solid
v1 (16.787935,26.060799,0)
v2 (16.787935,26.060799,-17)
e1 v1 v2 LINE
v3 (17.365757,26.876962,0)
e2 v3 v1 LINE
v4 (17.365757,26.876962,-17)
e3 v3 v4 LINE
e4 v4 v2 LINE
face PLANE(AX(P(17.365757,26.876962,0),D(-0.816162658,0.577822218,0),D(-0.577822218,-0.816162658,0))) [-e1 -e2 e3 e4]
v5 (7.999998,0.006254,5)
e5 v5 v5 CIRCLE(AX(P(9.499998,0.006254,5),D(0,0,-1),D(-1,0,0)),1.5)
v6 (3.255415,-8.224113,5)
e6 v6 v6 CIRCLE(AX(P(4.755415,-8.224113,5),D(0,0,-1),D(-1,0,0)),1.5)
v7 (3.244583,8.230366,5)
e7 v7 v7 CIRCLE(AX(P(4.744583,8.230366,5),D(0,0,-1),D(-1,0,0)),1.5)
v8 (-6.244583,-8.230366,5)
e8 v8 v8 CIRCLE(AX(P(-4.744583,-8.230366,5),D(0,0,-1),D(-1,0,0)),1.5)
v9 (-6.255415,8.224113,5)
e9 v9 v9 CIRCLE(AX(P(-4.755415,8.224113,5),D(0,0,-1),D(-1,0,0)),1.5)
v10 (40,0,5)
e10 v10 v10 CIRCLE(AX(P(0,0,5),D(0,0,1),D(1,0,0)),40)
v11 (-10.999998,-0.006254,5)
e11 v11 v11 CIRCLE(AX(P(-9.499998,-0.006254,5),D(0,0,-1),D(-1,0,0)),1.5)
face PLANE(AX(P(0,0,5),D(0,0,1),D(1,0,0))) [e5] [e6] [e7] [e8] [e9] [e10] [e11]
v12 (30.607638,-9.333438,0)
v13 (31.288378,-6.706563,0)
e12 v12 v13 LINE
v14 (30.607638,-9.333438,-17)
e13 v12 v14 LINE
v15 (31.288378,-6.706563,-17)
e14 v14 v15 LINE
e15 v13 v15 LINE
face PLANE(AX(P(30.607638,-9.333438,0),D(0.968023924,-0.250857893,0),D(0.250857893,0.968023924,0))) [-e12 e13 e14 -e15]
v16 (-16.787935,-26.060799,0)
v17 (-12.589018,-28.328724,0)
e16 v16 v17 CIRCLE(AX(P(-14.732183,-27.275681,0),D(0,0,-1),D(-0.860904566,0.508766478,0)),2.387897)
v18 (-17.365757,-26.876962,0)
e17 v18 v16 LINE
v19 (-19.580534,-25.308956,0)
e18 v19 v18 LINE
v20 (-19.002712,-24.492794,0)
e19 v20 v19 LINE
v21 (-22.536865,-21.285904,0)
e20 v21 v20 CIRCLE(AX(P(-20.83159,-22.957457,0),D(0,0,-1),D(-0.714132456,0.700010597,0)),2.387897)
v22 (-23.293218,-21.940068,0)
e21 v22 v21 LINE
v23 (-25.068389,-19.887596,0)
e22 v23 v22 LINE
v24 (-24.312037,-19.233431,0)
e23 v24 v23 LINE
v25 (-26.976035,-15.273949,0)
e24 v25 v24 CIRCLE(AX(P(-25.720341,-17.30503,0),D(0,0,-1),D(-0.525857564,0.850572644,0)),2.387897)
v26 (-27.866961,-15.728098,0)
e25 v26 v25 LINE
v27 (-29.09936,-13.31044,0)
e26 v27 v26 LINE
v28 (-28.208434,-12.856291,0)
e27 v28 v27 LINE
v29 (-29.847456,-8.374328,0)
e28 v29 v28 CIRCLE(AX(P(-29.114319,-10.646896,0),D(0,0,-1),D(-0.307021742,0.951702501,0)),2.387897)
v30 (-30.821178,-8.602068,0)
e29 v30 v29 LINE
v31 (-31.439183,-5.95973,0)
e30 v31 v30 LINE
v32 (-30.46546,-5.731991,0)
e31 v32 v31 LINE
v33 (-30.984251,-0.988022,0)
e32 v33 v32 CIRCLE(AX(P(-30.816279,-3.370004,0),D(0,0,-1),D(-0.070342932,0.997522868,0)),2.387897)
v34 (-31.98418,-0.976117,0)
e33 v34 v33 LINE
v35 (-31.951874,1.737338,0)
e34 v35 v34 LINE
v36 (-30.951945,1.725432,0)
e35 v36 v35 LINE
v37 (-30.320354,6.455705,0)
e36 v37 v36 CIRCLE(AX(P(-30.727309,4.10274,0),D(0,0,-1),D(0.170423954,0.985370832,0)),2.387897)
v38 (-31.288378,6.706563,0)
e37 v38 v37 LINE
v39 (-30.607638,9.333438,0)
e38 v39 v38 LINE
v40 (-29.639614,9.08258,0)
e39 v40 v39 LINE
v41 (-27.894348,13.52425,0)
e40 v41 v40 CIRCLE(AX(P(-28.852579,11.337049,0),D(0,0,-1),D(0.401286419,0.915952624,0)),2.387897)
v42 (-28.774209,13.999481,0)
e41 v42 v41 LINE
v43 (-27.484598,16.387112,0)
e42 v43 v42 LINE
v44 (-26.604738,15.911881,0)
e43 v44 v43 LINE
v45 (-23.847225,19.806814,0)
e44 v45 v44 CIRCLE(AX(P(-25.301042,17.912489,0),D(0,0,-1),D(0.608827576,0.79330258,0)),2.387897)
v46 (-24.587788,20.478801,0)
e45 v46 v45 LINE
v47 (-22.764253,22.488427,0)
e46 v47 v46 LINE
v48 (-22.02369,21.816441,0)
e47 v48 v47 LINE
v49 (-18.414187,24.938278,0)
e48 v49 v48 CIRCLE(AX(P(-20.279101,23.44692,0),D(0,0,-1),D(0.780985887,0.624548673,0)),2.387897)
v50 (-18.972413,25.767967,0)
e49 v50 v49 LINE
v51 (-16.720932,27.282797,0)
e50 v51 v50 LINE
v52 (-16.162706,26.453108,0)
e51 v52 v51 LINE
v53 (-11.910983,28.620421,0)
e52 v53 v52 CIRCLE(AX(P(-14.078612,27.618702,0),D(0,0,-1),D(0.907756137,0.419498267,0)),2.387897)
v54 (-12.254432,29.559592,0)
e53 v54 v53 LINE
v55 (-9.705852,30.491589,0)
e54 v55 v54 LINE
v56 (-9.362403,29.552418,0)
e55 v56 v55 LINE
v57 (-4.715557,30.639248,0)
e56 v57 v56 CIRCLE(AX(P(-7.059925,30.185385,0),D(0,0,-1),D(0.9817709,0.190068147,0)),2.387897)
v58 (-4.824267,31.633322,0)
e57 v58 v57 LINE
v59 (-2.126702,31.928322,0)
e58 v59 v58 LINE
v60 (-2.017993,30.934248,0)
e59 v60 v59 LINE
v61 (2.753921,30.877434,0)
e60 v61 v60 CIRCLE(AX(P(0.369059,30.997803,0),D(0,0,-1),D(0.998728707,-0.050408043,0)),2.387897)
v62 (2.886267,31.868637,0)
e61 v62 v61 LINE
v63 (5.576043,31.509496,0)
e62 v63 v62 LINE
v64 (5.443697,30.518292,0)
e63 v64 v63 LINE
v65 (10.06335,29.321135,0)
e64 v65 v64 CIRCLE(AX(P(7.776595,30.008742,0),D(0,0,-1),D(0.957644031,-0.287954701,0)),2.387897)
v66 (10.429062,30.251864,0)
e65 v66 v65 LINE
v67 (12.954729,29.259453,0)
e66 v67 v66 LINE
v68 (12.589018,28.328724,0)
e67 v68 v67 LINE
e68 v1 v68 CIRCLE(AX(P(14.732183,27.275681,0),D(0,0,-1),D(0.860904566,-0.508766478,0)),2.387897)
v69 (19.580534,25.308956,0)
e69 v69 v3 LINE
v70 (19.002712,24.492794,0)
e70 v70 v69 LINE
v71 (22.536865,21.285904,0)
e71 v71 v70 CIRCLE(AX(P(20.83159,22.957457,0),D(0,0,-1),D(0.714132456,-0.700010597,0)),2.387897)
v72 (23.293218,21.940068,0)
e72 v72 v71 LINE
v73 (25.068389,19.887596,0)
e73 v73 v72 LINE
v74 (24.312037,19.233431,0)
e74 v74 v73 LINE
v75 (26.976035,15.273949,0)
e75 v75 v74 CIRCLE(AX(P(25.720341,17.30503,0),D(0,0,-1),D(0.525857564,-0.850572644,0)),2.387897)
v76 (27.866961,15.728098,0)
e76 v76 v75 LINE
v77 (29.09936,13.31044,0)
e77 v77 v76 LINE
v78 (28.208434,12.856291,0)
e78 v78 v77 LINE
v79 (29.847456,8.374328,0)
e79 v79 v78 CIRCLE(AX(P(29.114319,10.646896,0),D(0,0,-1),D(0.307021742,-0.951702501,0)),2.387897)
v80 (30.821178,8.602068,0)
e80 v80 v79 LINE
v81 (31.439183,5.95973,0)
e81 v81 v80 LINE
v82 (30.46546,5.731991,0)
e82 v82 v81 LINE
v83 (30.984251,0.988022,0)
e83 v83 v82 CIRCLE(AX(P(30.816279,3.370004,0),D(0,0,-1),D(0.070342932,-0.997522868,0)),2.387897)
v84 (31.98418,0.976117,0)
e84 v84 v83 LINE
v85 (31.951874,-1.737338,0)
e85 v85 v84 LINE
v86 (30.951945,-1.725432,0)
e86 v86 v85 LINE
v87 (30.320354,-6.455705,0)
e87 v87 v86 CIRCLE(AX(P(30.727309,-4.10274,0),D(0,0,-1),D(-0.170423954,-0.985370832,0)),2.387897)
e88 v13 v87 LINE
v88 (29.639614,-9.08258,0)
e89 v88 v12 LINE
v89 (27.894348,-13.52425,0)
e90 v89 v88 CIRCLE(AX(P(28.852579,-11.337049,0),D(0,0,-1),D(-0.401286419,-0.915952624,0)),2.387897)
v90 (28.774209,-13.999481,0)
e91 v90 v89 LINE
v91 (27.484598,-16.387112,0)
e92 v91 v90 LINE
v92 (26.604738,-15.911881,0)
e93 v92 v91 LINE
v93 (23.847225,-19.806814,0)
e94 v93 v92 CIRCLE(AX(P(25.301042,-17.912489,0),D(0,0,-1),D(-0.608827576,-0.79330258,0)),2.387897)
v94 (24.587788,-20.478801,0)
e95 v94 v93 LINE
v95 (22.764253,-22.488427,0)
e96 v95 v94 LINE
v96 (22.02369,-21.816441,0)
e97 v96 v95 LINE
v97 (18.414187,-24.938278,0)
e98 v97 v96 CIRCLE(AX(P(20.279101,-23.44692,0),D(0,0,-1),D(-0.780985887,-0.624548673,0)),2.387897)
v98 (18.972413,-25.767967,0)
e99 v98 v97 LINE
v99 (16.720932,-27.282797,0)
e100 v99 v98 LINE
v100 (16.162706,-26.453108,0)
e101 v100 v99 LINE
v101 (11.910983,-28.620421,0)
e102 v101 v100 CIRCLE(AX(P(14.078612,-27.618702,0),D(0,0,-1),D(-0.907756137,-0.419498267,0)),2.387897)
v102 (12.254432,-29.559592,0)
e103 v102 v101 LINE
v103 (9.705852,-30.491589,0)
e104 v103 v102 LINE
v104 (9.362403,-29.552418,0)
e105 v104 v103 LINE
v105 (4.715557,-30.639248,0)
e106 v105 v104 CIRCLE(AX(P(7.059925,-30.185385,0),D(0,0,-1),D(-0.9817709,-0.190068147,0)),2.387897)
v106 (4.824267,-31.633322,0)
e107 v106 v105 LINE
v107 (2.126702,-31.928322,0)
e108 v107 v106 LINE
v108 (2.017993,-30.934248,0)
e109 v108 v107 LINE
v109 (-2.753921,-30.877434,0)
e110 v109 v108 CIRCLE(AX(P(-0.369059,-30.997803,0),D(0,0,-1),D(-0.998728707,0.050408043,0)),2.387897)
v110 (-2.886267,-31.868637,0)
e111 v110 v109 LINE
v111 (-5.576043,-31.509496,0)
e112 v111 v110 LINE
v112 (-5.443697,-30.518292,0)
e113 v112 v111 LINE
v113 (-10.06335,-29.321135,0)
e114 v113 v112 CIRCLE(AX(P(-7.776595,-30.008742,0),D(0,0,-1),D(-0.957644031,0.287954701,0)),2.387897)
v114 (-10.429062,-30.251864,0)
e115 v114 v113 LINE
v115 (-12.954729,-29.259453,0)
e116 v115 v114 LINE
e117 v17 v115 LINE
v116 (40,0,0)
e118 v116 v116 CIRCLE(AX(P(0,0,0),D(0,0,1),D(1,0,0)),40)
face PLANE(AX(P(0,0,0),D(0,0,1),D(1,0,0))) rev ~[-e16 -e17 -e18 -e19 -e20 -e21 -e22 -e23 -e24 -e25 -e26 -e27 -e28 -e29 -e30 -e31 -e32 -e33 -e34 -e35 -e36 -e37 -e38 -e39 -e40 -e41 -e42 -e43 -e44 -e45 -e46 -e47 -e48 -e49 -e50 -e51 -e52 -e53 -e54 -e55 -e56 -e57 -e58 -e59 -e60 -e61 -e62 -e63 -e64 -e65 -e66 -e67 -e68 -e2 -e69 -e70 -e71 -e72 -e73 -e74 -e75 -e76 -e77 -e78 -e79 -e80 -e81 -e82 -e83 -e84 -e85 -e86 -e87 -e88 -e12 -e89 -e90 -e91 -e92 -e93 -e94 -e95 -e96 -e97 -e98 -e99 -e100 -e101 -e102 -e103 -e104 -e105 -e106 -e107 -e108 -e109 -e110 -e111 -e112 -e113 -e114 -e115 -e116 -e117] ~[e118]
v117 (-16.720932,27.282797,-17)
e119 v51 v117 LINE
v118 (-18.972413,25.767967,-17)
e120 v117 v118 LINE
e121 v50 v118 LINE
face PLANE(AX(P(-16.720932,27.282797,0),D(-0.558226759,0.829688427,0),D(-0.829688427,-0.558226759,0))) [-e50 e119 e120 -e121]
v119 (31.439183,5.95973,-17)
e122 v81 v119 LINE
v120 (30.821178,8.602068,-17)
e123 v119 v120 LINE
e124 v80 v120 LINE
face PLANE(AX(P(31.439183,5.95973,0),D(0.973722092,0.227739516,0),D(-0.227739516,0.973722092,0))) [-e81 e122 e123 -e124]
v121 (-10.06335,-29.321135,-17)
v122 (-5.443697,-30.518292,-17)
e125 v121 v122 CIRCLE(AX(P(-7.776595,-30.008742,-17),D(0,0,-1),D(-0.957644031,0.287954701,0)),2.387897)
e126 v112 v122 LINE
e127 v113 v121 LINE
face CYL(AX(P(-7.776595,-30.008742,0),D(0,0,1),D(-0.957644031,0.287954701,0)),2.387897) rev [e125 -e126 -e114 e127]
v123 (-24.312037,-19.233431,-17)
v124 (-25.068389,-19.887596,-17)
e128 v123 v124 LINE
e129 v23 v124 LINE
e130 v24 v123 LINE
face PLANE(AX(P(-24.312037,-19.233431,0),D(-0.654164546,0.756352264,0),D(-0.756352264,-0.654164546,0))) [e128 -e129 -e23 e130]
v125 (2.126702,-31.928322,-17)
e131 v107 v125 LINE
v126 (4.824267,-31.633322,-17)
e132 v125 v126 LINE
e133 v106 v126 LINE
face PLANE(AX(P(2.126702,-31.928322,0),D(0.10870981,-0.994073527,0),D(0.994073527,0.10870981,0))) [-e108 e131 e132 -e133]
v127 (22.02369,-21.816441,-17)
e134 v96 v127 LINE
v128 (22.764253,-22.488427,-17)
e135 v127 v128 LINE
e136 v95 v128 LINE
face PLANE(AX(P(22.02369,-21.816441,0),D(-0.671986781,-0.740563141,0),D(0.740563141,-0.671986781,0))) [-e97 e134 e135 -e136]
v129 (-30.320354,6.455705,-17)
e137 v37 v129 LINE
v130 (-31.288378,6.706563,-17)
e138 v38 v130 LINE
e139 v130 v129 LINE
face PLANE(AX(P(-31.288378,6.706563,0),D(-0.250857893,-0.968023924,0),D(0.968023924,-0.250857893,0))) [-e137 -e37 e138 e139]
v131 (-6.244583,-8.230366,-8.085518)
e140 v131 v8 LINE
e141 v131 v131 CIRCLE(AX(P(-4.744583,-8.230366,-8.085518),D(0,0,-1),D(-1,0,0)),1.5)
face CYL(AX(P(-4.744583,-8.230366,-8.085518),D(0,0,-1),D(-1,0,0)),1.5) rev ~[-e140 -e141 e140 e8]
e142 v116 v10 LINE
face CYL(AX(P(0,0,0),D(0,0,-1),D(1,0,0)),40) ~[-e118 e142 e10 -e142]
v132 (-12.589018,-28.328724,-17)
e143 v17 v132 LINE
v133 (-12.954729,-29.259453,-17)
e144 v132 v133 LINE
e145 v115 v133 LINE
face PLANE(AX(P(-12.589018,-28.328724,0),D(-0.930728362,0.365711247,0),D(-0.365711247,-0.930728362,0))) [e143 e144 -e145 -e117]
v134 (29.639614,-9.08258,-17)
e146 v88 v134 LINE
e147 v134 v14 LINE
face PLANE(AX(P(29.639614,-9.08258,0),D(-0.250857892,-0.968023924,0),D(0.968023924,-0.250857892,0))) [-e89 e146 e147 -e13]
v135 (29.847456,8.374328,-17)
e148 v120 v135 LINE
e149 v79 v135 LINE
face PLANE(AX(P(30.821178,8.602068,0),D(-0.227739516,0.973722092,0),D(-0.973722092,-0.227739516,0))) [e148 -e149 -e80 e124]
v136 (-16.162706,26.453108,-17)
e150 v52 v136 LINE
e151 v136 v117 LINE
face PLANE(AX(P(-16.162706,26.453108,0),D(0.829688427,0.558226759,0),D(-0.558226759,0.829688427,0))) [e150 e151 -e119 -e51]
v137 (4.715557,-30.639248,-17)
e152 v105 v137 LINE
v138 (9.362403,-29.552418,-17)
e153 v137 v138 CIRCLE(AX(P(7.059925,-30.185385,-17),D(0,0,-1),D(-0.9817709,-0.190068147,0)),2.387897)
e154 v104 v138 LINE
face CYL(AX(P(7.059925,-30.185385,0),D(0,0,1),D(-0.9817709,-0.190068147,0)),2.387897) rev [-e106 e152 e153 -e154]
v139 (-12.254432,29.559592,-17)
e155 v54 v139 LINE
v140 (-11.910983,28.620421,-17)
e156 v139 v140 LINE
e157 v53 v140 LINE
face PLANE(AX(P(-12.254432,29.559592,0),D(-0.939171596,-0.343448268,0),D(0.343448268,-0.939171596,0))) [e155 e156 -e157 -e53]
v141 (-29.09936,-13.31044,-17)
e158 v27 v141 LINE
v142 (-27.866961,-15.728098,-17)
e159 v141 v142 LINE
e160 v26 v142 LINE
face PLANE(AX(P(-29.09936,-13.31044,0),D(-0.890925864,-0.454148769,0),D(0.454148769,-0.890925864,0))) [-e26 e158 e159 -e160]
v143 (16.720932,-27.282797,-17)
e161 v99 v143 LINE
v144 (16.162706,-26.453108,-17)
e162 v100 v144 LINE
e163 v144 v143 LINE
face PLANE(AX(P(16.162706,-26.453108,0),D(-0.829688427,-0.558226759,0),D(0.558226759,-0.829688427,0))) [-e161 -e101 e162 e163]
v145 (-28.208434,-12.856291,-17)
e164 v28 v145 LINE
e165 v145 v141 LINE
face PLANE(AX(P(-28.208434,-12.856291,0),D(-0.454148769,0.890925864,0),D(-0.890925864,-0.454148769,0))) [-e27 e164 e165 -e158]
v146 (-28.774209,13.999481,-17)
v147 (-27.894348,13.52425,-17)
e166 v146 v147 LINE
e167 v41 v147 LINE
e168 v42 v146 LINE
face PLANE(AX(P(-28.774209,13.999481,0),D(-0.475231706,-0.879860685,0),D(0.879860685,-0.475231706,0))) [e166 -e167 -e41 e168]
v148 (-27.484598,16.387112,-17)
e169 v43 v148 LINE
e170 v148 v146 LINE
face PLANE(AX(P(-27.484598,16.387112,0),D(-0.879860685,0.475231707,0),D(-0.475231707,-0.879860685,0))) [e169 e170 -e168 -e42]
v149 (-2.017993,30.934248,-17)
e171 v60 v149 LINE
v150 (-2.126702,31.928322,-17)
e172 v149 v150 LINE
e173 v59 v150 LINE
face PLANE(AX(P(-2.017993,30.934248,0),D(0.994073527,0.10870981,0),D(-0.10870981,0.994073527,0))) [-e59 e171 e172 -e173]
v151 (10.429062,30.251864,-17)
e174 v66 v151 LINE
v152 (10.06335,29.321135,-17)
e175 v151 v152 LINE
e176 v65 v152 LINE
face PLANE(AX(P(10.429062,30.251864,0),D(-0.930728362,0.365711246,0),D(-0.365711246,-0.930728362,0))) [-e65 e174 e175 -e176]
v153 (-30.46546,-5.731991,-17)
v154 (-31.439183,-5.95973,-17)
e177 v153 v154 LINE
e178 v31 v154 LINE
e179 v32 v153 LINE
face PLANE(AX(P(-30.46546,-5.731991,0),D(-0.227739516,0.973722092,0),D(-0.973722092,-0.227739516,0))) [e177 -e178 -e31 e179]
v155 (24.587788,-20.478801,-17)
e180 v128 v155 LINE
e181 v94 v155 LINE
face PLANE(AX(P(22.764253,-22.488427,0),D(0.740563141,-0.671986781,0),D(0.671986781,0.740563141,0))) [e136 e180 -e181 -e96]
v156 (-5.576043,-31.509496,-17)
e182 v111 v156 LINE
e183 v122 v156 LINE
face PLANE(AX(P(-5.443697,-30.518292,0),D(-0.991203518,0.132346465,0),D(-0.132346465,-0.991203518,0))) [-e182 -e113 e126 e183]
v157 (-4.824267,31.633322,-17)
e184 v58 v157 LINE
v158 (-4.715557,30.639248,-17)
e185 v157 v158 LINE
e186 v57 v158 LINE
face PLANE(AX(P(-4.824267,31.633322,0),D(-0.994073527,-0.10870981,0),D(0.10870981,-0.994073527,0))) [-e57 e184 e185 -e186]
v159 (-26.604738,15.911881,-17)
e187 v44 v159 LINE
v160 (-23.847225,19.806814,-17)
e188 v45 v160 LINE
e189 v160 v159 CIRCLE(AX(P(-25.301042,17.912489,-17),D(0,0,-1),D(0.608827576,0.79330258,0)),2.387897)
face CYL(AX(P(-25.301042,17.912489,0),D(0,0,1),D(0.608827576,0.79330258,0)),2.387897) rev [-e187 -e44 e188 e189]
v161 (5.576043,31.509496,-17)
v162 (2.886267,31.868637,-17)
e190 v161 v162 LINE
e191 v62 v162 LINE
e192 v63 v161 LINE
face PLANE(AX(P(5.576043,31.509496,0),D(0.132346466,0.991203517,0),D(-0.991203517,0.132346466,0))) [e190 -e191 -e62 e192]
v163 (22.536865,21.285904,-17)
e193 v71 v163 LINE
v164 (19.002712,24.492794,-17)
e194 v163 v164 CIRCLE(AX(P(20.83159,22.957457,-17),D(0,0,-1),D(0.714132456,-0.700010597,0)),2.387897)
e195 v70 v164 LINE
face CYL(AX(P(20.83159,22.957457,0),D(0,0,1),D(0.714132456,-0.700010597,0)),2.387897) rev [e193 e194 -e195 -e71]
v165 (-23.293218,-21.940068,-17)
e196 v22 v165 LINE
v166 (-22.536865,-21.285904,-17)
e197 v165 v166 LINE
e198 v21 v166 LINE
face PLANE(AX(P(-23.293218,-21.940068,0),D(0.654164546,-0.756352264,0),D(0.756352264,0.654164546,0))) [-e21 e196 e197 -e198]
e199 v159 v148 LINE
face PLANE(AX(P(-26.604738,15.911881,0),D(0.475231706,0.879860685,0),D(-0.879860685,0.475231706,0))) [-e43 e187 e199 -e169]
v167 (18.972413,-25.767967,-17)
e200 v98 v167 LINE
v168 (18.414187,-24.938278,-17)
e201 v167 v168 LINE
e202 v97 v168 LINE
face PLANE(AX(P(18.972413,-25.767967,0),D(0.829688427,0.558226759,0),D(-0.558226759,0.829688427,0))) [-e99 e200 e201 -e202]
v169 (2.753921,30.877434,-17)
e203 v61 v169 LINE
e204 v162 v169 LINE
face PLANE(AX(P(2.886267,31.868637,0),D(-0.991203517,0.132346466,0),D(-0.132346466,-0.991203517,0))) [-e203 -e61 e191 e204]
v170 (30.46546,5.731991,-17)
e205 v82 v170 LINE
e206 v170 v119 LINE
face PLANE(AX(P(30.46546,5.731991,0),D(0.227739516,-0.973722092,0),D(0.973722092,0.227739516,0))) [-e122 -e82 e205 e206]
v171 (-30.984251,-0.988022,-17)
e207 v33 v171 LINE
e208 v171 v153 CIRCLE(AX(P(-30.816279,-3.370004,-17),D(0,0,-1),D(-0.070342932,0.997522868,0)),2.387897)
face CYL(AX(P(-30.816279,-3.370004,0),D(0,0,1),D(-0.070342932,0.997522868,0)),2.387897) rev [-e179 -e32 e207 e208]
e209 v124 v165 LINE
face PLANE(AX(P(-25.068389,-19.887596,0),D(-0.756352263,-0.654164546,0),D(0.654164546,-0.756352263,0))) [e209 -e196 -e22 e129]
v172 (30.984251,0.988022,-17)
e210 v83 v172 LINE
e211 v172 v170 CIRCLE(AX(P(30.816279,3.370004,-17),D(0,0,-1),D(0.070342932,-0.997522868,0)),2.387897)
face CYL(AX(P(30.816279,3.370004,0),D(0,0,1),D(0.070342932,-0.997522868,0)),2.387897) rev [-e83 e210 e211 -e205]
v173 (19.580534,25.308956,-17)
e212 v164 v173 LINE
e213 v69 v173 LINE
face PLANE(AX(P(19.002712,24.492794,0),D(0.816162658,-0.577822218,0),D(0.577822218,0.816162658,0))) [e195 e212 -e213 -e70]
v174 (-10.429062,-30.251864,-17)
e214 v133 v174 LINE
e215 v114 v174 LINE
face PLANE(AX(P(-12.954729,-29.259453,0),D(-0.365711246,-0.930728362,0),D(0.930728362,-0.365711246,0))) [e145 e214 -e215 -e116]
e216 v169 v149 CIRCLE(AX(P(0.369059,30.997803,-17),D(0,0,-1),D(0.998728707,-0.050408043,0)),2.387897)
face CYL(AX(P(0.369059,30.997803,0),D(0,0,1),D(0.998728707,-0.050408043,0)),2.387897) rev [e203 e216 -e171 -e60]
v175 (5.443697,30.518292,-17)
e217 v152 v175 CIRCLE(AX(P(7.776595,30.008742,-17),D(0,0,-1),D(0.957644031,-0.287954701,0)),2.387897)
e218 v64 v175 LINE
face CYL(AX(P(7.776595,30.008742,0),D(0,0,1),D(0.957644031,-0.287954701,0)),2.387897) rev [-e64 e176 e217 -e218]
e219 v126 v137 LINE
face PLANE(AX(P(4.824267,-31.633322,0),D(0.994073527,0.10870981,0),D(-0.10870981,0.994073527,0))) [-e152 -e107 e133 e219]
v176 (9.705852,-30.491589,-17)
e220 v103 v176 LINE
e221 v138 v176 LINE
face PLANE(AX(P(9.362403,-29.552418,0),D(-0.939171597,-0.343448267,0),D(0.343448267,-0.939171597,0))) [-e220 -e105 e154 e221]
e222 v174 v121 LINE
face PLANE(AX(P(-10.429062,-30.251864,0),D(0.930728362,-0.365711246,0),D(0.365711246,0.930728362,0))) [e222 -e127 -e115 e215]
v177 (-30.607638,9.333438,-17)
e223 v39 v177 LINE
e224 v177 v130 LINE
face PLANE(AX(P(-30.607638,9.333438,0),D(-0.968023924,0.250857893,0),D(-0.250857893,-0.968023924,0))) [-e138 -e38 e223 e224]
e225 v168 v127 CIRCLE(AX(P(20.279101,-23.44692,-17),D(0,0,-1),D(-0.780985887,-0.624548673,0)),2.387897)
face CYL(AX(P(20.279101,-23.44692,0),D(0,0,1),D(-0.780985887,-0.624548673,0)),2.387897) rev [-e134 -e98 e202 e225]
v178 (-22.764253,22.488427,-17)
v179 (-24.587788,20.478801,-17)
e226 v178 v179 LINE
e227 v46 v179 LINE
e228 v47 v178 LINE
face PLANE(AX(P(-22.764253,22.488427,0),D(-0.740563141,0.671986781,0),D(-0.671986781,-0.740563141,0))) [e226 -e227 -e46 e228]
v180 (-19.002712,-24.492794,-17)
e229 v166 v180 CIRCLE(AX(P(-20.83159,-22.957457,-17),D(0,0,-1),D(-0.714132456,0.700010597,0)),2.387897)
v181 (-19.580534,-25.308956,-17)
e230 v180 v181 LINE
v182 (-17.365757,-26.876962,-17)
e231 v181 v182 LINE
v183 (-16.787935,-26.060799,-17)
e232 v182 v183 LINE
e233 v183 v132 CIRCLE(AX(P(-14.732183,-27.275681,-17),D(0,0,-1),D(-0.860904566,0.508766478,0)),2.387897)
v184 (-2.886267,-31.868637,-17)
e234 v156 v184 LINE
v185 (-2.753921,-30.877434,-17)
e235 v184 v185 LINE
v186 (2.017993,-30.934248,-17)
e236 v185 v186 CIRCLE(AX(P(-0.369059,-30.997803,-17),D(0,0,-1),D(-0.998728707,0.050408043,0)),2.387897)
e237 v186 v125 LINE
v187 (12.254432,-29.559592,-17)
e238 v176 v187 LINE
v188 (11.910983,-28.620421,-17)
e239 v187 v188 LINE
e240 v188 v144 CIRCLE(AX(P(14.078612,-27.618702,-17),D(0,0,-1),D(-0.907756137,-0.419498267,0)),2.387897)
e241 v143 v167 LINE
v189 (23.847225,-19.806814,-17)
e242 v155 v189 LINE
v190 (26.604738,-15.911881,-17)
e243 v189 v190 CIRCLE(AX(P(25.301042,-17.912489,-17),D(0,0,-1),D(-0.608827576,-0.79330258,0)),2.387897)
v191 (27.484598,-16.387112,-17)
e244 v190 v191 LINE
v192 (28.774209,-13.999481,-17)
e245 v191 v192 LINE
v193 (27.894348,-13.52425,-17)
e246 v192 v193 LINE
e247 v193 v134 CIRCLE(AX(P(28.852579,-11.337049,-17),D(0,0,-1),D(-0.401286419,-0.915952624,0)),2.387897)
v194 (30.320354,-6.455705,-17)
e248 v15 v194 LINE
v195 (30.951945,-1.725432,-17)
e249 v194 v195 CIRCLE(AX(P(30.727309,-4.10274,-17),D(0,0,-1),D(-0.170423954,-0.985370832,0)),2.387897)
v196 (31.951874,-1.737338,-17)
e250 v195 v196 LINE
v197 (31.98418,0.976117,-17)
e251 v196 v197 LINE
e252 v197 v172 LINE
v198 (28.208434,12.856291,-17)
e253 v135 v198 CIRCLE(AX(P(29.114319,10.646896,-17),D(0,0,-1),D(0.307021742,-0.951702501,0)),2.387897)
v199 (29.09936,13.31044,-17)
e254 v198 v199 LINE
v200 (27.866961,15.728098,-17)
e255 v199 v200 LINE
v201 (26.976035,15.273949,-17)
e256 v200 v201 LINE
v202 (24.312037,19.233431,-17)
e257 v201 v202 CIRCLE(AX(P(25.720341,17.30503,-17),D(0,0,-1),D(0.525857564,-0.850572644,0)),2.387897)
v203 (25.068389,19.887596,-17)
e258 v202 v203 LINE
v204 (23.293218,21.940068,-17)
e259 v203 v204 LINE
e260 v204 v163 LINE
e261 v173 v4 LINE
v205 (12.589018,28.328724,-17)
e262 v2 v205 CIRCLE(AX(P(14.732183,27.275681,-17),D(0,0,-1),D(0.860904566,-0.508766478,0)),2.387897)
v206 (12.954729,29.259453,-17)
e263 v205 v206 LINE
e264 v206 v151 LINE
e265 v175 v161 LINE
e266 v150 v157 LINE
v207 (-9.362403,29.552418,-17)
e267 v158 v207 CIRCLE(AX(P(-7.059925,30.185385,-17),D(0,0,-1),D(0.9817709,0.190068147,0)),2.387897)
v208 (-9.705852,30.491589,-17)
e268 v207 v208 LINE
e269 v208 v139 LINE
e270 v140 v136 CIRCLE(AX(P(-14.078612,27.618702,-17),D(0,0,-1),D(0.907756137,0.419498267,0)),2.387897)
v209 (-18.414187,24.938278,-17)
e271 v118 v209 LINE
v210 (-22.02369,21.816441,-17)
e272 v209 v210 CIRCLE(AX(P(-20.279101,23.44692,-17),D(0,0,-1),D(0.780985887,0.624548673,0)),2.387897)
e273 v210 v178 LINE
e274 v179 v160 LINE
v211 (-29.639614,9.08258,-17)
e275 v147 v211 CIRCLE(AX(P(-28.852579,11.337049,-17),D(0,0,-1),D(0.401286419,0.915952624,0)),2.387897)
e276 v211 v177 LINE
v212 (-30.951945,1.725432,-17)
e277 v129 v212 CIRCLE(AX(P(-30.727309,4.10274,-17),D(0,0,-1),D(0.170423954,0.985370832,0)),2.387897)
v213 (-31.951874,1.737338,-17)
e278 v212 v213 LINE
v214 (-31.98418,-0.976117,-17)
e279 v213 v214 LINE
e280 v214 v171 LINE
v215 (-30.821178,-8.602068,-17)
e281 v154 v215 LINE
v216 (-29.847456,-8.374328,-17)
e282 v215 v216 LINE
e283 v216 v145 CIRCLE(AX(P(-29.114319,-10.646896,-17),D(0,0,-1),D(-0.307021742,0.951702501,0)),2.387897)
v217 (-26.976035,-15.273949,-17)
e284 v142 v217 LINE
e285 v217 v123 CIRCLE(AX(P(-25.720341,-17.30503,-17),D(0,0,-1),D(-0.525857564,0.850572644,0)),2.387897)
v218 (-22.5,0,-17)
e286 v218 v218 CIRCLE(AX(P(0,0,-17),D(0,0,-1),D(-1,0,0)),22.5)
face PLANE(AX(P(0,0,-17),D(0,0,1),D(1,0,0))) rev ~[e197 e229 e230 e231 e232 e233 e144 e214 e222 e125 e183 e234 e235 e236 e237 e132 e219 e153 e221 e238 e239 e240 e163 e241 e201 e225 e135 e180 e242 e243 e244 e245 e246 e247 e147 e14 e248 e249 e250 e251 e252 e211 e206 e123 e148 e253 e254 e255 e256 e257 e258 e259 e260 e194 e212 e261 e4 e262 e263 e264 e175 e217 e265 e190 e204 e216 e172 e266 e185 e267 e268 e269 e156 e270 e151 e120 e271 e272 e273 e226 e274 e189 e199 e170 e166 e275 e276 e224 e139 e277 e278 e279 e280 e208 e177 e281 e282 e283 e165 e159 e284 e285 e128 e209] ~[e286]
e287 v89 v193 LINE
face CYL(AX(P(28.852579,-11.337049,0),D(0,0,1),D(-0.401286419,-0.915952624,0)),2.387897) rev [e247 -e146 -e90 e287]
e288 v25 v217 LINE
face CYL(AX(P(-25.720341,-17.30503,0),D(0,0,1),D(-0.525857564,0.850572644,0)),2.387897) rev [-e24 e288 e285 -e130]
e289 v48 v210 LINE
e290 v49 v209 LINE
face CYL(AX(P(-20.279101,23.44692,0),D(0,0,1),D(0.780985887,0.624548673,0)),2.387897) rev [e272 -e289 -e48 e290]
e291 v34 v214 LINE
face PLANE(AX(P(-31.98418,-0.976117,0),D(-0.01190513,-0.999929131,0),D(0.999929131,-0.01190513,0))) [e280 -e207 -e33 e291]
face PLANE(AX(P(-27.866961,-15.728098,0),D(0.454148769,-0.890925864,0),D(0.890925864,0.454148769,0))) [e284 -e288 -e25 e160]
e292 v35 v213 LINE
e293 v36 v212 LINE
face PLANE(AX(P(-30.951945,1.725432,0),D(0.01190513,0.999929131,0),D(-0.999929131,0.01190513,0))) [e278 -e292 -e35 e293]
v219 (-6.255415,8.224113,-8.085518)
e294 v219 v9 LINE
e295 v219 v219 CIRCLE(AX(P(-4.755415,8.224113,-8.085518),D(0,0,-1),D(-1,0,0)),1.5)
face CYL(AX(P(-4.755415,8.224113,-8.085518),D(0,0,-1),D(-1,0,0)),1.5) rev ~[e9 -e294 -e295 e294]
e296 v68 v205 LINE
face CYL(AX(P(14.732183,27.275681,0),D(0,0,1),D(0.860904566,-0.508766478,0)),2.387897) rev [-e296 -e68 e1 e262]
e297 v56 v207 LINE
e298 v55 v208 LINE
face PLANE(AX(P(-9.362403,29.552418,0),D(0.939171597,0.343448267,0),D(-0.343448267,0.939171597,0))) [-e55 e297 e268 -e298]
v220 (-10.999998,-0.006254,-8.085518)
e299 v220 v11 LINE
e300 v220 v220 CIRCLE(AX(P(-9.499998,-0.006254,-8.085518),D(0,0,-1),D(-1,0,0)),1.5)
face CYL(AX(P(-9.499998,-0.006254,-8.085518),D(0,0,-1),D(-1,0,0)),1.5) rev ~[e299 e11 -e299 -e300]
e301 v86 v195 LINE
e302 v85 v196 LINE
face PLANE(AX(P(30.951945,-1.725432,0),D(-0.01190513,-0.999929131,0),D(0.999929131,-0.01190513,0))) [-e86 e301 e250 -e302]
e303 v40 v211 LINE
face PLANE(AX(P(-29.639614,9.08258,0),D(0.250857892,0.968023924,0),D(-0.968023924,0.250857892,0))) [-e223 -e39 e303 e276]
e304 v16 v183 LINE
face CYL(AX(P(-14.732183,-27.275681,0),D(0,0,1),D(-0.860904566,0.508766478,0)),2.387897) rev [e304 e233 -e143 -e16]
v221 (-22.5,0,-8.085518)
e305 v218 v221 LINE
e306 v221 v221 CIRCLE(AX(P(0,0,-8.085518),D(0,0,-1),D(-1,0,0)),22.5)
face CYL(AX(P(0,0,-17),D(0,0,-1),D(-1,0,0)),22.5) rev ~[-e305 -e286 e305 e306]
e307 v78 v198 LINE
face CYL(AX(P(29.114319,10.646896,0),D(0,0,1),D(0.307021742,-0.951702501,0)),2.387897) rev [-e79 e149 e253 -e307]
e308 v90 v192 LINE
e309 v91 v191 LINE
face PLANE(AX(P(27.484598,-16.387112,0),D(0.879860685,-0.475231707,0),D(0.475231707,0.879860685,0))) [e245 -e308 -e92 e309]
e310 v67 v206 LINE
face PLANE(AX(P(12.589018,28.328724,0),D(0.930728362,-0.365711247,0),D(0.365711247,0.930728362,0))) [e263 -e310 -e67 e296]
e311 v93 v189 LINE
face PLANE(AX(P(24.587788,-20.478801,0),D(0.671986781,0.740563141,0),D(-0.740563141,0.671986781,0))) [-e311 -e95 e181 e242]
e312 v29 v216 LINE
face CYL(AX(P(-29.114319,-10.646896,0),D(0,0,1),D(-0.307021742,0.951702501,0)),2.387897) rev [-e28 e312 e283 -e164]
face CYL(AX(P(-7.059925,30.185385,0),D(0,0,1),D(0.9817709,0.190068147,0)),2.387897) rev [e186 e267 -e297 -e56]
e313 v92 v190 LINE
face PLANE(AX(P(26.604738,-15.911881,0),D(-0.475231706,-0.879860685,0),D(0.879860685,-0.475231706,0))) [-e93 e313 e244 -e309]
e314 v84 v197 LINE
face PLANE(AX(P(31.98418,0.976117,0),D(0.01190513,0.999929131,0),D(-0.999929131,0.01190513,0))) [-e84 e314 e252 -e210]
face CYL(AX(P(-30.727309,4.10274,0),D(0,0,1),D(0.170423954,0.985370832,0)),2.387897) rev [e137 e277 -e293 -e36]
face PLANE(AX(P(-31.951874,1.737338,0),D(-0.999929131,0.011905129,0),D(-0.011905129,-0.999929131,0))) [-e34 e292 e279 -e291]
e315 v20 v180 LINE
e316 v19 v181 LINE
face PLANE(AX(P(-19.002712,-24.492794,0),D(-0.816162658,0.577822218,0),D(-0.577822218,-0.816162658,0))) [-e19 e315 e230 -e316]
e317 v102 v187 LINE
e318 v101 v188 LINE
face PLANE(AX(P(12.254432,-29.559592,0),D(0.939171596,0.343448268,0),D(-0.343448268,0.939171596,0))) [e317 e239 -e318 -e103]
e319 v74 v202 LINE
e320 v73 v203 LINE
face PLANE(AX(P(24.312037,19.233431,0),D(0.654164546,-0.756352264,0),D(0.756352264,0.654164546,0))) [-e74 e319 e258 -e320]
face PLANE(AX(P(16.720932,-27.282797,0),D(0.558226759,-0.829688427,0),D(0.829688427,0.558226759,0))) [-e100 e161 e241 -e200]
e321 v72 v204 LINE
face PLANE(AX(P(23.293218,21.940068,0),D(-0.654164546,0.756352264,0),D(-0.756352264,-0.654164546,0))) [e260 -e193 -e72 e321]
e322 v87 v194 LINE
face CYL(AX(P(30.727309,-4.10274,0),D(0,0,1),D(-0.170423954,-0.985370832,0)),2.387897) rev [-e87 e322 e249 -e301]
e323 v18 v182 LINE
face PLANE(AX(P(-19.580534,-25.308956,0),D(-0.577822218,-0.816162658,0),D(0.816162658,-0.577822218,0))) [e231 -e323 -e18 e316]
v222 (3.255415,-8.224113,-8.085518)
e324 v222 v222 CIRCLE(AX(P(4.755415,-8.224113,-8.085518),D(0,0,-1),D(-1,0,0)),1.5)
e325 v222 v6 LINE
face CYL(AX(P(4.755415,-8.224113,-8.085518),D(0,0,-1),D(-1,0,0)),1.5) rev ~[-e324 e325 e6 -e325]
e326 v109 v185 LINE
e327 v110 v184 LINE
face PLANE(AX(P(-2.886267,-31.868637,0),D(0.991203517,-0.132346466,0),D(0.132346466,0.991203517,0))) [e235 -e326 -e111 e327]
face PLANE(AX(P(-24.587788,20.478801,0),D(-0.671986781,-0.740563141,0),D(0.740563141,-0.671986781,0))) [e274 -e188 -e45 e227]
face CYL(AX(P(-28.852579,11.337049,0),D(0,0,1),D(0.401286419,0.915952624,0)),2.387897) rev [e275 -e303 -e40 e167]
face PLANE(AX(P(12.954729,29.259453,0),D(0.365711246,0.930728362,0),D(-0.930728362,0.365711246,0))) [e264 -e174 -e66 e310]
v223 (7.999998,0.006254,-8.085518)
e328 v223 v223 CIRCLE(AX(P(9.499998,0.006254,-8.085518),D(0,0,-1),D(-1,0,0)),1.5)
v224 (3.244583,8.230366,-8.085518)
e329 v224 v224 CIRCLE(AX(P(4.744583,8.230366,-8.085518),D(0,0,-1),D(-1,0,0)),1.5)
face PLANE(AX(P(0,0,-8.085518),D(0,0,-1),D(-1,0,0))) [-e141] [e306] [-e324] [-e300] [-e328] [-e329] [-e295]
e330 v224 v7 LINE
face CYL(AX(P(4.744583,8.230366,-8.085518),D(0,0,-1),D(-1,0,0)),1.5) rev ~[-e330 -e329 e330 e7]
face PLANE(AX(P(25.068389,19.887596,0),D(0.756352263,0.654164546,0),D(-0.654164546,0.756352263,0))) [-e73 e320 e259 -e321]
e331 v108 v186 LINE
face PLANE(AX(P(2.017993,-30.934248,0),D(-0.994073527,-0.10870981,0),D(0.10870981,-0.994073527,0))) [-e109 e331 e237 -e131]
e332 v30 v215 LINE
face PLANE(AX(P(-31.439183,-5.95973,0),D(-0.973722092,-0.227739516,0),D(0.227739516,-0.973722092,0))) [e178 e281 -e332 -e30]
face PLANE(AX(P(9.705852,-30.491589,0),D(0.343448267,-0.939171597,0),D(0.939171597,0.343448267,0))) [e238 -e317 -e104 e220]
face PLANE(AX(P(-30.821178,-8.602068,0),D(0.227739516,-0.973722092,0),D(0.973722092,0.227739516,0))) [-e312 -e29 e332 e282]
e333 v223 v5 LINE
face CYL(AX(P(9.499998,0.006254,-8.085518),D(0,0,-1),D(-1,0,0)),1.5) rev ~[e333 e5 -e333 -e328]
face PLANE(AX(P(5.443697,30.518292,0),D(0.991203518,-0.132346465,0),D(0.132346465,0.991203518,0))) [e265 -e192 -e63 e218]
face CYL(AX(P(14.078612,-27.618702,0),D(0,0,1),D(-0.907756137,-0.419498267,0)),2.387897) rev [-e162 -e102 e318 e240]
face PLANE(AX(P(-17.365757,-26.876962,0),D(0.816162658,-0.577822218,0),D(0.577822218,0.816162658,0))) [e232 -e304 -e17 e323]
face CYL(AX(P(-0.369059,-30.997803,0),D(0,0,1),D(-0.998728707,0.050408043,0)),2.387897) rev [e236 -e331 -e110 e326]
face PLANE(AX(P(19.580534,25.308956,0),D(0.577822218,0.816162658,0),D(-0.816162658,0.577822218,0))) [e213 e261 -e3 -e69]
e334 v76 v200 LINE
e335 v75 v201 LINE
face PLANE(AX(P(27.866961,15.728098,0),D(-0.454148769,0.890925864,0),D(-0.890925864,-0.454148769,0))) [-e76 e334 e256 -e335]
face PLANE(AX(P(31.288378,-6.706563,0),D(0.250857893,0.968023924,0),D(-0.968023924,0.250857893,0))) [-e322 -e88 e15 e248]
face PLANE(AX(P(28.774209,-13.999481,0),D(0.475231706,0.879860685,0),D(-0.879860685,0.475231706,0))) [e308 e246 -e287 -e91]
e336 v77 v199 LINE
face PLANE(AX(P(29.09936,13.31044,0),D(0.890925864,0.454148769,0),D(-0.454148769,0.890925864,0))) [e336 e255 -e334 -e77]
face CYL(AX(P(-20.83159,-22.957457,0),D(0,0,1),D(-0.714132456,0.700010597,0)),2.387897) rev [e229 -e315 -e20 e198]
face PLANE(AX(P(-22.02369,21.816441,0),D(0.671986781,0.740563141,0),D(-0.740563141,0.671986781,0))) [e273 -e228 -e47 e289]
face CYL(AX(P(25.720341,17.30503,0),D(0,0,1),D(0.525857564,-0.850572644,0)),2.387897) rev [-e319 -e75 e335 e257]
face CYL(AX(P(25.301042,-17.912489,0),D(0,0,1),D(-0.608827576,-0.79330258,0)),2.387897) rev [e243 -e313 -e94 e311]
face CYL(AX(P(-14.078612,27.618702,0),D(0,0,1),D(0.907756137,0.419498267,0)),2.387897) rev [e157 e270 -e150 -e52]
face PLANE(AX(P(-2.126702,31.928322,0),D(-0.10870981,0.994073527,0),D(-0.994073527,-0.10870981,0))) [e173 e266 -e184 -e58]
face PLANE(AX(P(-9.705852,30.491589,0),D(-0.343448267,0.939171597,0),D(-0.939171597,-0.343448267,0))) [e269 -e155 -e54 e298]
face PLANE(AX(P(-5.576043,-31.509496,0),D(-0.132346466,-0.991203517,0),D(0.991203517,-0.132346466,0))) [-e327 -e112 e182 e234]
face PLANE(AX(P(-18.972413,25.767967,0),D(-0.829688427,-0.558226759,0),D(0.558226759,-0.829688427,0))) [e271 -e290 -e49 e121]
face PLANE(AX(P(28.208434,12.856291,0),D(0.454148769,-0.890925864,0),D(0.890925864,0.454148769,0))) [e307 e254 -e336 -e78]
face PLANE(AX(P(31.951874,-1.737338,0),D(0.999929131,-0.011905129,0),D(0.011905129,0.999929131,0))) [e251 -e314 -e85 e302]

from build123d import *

# Parameters (mm, degrees)
BOSS_EXTRUDE4_DEPTH = 17
SKETCH6_R           = 40
BOSS_EXTRUDE5_DEPTH = 5
SKETCH9_R           = 22.5
CUT_EXTRUDE2_DEPTH  = 8.91448242
SKETCH10_R          = 1.5
CUT_EXTRUDE3_DEPTH  = 59.062300767


with BuildPart() as part:
    # Sketch2 → Boss-Extrude4 (new body)
    with BuildSketch(Plane.XY):
        with BuildLine():
            ThreePointArc((2.753920794, 30.877433835), (0.34063079, 28.610074808), (-2.017992552, 30.934248109))
            Line((-2.017992552, 30.934248109), (-2.126702362, 31.928321636))
            Line((-2.126702362, 31.928321636), (-4.824266539, 31.633321637))
            Line((-4.824266539, 31.633321637), (-4.715556729, 30.63924811))
            ThreePointArc((-4.715556729, 30.63924811), (-6.51610638, 27.860236315), (-9.362403491, 29.552417851))
            Line((-9.362403491, 29.552417851), (-9.705851758, 30.491589448))
            Line((-9.705851758, 30.491589448), (-12.254431503, 29.55959225))
            Line((-12.254431503, 29.55959225), (-11.910983235, 28.620420653))
            ThreePointArc((-11.910983235, 28.620420653), (-12.994151132, 25.491262155), (-16.162705571, 26.453108487))
            Line((-16.162705571, 26.453108487), (-16.72093233, 27.282796914))
            Line((-16.72093233, 27.282796914), (-18.97241345, 25.767966806))
            Line((-18.97241345, 25.767966806), (-18.414186691, 24.938278379))
            ThreePointArc((-18.414186691, 24.938278379), (-18.717023052, 21.640828495), (-22.023689951, 21.816440611))
            Line((-22.023689951, 21.816440611), (-22.764253092, 22.488427392))
            Line((-22.764253092, 22.488427392), (-24.587787689, 20.478800794))
            Line((-24.587787689, 20.478800794), (-23.847224548, 19.806814013))
            ThreePointArc((-23.847224548, 19.806814013), (-23.352129626, 16.532708544), (-26.604737525, 15.911880506))
            Line((-26.604737525, 15.911880506), (-27.48459821, 16.387112212))
            Line((-27.48459821, 16.387112212), (-28.774209082, 13.999481317))
            Line((-28.774209082, 13.999481317), (-27.894348397, 13.524249611))
            ThreePointArc((-27.894348397, 13.524249611), (-26.630095307, 10.463767667), (-29.639614458, 9.082579743))
            Line((-29.639614458, 9.082579743), (-30.607638382, 9.333437635))
            Line((-30.607638382, 9.333437635), (-31.288378032, 6.706562873))
            Line((-31.288378032, 6.706562873), (-30.320354108, 6.45570498))
            ThreePointArc((-30.320354108, 6.45570498), (-28.360416646, 3.786710647), (-30.951944734, 1.725432459))
            Line((-30.951944734, 1.725432459), (-31.951873866, 1.737337589))
            Line((-31.951873866, 1.737337589), (-31.984180179, -0.976116629))
            Line((-31.984180179, -0.976116629), (-30.984251048, -0.988021759))
            ThreePointArc((-30.984251048, -0.988021759), (-28.442533655, -3.110416231), (-30.465460488, -5.731990687))
            Line((-30.465460488, -5.731990687), (-31.43918258, -5.959730203))
            Line((-31.43918258, -5.959730203), (-30.821178033, -8.60206778))
            Line((-30.821178033, -8.60206778), (-29.847455941, -8.374328264))
            ThreePointArc((-29.847455941, -8.374328264), (-26.871673993, -9.826777024), (-28.208434416, -12.85629137))
            Line((-28.208434416, -12.85629137), (-29.09936028, -13.310440139))
            Line((-29.09936028, -13.310440139), (-27.866961049, -15.728098019))
            Line((-27.866961049, -15.728098019), (-26.976035185, -15.27394925))
            ThreePointArc((-26.976035185, -15.27394925), (-23.739130313, -15.972041255), (-24.312036669, -19.233431129))
            Line((-24.312036669, -19.233431129), (-25.068388933, -19.887595675))
            Line((-25.068388933, -19.887595675), (-23.293217582, -21.94006837))
            Line((-23.293217582, -21.94006837), (-22.536865318, -21.285903824))
            ThreePointArc((-22.536865318, -21.285903824), (-19.226954667, -21.189068505), (-19.002711722, -24.492793781))
            Line((-19.002711722, -24.492793781), (-19.58053394, -25.308956439))
            Line((-19.58053394, -25.308956439), (-17.365756976, -26.876961697))
            Line((-17.365756976, -26.876961697), (-16.787934758, -26.060799039))
            ThreePointArc((-16.787934758, -26.060799039), (-13.597378303, -25.174664112), (-12.589018241, -28.328724287))
            Line((-12.589018241, -28.328724287), (-12.954729488, -29.259452649))
            Line((-12.954729488, -29.259452649), (-10.429061697, -30.251863704))
            Line((-10.429061697, -30.251863704), (-10.063350451, -29.321135341))
            ThreePointArc((-10.063350451, -29.321135341), (-7.177571736, -27.697199747), (-5.44369678, -30.518292308))
            Line((-5.44369678, -30.518292308), (-5.576043245, -31.509495825))
            Line((-5.576043245, -31.509495825), (-2.88626726, -31.868637353))
            Line((-2.88626726, -31.868637353), (-2.753920794, -30.877433835))
            ThreePointArc((-2.753920794, -30.877433835), (-0.34063079, -28.610074808), (2.017992552, -30.934248109))
            Line((2.017992552, -30.934248109), (2.126702362, -31.928321636))
            Line((2.126702362, -31.928321636), (4.824266539, -31.633321637))
            Line((4.824266539, -31.633321637), (4.715556729, -30.63924811))
            ThreePointArc((4.715556729, -30.63924811), (6.51610638, -27.860236315), (9.362403491, -29.552417851))
            Line((9.362403491, -29.552417851), (9.705851758, -30.491589448))
            Line((9.705851758, -30.491589448), (12.254431503, -29.55959225))
            Line((12.254431503, -29.55959225), (11.910983235, -28.620420653))
            ThreePointArc((11.910983235, -28.620420653), (12.994151132, -25.491262155), (16.162705571, -26.453108487))
            Line((16.162705571, -26.453108487), (16.72093233, -27.282796914))
            Line((16.72093233, -27.282796914), (18.97241345, -25.767966806))
            Line((18.97241345, -25.767966806), (18.414186691, -24.938278379))
            ThreePointArc((18.414186691, -24.938278379), (18.717023052, -21.640828495), (22.023689951, -21.816440611))
            Line((22.023689951, -21.816440611), (22.764253092, -22.488427392))
            Line((22.764253092, -22.488427392), (24.587787689, -20.478800794))
            Line((24.587787689, -20.478800794), (23.847224548, -19.806814013))
            ThreePointArc((23.847224548, -19.806814013), (23.352129626, -16.532708544), (26.604737525, -15.911880506))
            Line((26.604737525, -15.911880506), (27.48459821, -16.387112212))
            Line((27.48459821, -16.387112212), (28.774209082, -13.999481317))
            Line((28.774209082, -13.999481317), (27.894348397, -13.524249611))
            ThreePointArc((27.894348397, -13.524249611), (26.630095307, -10.463767667), (29.639614458, -9.082579743))
            Line((29.639614458, -9.082579743), (30.607638382, -9.333437635))
            Line((30.607638382, -9.333437635), (31.288378032, -6.706562873))
            Line((31.288378032, -6.706562873), (30.320354108, -6.45570498))
            ThreePointArc((30.320354108, -6.45570498), (28.360416646, -3.786710647), (30.951944734, -1.725432459))
            Line((30.951944734, -1.725432459), (31.951873866, -1.737337589))
            Line((31.951873866, -1.737337589), (31.984180179, 0.976116629))
            Line((31.984180179, 0.976116629), (30.984251048, 0.988021759))
            ThreePointArc((30.984251048, 0.988021759), (28.442533655, 3.110416231), (30.465460488, 5.731990687))
            Line((30.465460488, 5.731990687), (31.43918258, 5.959730203))
            Line((31.43918258, 5.959730203), (30.821178033, 8.60206778))
            Line((30.821178033, 8.60206778), (29.847455941, 8.374328264))
            ThreePointArc((29.847455941, 8.374328264), (26.871673993, 9.826777024), (28.208434416, 12.85629137))
            Line((28.208434416, 12.85629137), (29.09936028, 13.310440139))
            Line((29.09936028, 13.310440139), (27.866961049, 15.728098019))
            Line((27.866961049, 15.728098019), (26.976035185, 15.27394925))
            ThreePointArc((26.976035185, 15.27394925), (23.739130313, 15.972041255), (24.312036669, 19.233431129))
            Line((24.312036669, 19.233431129), (25.068388933, 19.887595675))
            Line((25.068388933, 19.887595675), (23.293217582, 21.94006837))
            Line((23.293217582, 21.94006837), (22.536865318, 21.285903824))
            ThreePointArc((22.536865318, 21.285903824), (19.226954667, 21.189068505), (19.002711722, 24.492793781))
            Line((19.002711722, 24.492793781), (19.58053394, 25.308956439))
            Line((19.58053394, 25.308956439), (17.365756976, 26.876961697))
            Line((17.365756976, 26.876961697), (16.787934758, 26.060799039))
            ThreePointArc((16.787934758, 26.060799039), (13.597378303, 25.174664112), (12.589018241, 28.328724287))
            Line((12.589018241, 28.328724287), (12.954729488, 29.259452649))
            Line((12.954729488, 29.259452649), (10.429061697, 30.251863704))
            Line((10.429061697, 30.251863704), (10.063350451, 29.321135341))
            ThreePointArc((10.063350451, 29.321135341), (7.177571736, 27.697199747), (5.44369678, 30.518292308))
            Line((5.44369678, 30.518292308), (5.576043245, 31.509495825))
            Line((5.576043245, 31.509495825), (2.88626726, 31.868637353))
            Line((2.88626726, 31.868637353), (2.753920794, 30.877433835))
        make_face()
    extrude(amount=-BOSS_EXTRUDE4_DEPTH)

    # Sketch6 → Boss-Extrude5 (add)
    with BuildSketch(Plane.XY):
        Circle(SKETCH6_R)
    extrude(amount=BOSS_EXTRUDE5_DEPTH)

    # Sketch9 → Cut-Extrude2 (cut)
    with BuildSketch(Plane(origin=(0, 0, -17), x_dir=(-1, 0, 0), z_dir=(0, 0, -1))):
        Circle(SKETCH9_R)
    extrude(amount=-CUT_EXTRUDE2_DEPTH, mode=Mode.SUBTRACT)

    # Sketch10 → Cut-Extrude3 (cut, through all)
    with BuildSketch(Plane(origin=(0, 0, -8.08551758), x_dir=(-1, 0, 0), z_dir=(0, 0, -1))):
        with Locations((-4.744582961, 8.230366488)):
            Circle(SKETCH10_R)
        with Locations((-9.499997942, 0.006253869)):
            Circle(SKETCH10_R)
        with Locations((-4.75541498, -8.224112619)):
            Circle(SKETCH10_R)
        with Locations((4.744582961, -8.230366488)):
            Circle(SKETCH10_R)
        with Locations((9.499997942, -0.006253869)):
            Circle(SKETCH10_R)
        with Locations((4.75541498, 8.224112619)):
            Circle(SKETCH10_R)
    extrude(amount=-CUT_EXTRUDE3_DEPTH, mode=Mode.SUBTRACT)


solid = part.part
